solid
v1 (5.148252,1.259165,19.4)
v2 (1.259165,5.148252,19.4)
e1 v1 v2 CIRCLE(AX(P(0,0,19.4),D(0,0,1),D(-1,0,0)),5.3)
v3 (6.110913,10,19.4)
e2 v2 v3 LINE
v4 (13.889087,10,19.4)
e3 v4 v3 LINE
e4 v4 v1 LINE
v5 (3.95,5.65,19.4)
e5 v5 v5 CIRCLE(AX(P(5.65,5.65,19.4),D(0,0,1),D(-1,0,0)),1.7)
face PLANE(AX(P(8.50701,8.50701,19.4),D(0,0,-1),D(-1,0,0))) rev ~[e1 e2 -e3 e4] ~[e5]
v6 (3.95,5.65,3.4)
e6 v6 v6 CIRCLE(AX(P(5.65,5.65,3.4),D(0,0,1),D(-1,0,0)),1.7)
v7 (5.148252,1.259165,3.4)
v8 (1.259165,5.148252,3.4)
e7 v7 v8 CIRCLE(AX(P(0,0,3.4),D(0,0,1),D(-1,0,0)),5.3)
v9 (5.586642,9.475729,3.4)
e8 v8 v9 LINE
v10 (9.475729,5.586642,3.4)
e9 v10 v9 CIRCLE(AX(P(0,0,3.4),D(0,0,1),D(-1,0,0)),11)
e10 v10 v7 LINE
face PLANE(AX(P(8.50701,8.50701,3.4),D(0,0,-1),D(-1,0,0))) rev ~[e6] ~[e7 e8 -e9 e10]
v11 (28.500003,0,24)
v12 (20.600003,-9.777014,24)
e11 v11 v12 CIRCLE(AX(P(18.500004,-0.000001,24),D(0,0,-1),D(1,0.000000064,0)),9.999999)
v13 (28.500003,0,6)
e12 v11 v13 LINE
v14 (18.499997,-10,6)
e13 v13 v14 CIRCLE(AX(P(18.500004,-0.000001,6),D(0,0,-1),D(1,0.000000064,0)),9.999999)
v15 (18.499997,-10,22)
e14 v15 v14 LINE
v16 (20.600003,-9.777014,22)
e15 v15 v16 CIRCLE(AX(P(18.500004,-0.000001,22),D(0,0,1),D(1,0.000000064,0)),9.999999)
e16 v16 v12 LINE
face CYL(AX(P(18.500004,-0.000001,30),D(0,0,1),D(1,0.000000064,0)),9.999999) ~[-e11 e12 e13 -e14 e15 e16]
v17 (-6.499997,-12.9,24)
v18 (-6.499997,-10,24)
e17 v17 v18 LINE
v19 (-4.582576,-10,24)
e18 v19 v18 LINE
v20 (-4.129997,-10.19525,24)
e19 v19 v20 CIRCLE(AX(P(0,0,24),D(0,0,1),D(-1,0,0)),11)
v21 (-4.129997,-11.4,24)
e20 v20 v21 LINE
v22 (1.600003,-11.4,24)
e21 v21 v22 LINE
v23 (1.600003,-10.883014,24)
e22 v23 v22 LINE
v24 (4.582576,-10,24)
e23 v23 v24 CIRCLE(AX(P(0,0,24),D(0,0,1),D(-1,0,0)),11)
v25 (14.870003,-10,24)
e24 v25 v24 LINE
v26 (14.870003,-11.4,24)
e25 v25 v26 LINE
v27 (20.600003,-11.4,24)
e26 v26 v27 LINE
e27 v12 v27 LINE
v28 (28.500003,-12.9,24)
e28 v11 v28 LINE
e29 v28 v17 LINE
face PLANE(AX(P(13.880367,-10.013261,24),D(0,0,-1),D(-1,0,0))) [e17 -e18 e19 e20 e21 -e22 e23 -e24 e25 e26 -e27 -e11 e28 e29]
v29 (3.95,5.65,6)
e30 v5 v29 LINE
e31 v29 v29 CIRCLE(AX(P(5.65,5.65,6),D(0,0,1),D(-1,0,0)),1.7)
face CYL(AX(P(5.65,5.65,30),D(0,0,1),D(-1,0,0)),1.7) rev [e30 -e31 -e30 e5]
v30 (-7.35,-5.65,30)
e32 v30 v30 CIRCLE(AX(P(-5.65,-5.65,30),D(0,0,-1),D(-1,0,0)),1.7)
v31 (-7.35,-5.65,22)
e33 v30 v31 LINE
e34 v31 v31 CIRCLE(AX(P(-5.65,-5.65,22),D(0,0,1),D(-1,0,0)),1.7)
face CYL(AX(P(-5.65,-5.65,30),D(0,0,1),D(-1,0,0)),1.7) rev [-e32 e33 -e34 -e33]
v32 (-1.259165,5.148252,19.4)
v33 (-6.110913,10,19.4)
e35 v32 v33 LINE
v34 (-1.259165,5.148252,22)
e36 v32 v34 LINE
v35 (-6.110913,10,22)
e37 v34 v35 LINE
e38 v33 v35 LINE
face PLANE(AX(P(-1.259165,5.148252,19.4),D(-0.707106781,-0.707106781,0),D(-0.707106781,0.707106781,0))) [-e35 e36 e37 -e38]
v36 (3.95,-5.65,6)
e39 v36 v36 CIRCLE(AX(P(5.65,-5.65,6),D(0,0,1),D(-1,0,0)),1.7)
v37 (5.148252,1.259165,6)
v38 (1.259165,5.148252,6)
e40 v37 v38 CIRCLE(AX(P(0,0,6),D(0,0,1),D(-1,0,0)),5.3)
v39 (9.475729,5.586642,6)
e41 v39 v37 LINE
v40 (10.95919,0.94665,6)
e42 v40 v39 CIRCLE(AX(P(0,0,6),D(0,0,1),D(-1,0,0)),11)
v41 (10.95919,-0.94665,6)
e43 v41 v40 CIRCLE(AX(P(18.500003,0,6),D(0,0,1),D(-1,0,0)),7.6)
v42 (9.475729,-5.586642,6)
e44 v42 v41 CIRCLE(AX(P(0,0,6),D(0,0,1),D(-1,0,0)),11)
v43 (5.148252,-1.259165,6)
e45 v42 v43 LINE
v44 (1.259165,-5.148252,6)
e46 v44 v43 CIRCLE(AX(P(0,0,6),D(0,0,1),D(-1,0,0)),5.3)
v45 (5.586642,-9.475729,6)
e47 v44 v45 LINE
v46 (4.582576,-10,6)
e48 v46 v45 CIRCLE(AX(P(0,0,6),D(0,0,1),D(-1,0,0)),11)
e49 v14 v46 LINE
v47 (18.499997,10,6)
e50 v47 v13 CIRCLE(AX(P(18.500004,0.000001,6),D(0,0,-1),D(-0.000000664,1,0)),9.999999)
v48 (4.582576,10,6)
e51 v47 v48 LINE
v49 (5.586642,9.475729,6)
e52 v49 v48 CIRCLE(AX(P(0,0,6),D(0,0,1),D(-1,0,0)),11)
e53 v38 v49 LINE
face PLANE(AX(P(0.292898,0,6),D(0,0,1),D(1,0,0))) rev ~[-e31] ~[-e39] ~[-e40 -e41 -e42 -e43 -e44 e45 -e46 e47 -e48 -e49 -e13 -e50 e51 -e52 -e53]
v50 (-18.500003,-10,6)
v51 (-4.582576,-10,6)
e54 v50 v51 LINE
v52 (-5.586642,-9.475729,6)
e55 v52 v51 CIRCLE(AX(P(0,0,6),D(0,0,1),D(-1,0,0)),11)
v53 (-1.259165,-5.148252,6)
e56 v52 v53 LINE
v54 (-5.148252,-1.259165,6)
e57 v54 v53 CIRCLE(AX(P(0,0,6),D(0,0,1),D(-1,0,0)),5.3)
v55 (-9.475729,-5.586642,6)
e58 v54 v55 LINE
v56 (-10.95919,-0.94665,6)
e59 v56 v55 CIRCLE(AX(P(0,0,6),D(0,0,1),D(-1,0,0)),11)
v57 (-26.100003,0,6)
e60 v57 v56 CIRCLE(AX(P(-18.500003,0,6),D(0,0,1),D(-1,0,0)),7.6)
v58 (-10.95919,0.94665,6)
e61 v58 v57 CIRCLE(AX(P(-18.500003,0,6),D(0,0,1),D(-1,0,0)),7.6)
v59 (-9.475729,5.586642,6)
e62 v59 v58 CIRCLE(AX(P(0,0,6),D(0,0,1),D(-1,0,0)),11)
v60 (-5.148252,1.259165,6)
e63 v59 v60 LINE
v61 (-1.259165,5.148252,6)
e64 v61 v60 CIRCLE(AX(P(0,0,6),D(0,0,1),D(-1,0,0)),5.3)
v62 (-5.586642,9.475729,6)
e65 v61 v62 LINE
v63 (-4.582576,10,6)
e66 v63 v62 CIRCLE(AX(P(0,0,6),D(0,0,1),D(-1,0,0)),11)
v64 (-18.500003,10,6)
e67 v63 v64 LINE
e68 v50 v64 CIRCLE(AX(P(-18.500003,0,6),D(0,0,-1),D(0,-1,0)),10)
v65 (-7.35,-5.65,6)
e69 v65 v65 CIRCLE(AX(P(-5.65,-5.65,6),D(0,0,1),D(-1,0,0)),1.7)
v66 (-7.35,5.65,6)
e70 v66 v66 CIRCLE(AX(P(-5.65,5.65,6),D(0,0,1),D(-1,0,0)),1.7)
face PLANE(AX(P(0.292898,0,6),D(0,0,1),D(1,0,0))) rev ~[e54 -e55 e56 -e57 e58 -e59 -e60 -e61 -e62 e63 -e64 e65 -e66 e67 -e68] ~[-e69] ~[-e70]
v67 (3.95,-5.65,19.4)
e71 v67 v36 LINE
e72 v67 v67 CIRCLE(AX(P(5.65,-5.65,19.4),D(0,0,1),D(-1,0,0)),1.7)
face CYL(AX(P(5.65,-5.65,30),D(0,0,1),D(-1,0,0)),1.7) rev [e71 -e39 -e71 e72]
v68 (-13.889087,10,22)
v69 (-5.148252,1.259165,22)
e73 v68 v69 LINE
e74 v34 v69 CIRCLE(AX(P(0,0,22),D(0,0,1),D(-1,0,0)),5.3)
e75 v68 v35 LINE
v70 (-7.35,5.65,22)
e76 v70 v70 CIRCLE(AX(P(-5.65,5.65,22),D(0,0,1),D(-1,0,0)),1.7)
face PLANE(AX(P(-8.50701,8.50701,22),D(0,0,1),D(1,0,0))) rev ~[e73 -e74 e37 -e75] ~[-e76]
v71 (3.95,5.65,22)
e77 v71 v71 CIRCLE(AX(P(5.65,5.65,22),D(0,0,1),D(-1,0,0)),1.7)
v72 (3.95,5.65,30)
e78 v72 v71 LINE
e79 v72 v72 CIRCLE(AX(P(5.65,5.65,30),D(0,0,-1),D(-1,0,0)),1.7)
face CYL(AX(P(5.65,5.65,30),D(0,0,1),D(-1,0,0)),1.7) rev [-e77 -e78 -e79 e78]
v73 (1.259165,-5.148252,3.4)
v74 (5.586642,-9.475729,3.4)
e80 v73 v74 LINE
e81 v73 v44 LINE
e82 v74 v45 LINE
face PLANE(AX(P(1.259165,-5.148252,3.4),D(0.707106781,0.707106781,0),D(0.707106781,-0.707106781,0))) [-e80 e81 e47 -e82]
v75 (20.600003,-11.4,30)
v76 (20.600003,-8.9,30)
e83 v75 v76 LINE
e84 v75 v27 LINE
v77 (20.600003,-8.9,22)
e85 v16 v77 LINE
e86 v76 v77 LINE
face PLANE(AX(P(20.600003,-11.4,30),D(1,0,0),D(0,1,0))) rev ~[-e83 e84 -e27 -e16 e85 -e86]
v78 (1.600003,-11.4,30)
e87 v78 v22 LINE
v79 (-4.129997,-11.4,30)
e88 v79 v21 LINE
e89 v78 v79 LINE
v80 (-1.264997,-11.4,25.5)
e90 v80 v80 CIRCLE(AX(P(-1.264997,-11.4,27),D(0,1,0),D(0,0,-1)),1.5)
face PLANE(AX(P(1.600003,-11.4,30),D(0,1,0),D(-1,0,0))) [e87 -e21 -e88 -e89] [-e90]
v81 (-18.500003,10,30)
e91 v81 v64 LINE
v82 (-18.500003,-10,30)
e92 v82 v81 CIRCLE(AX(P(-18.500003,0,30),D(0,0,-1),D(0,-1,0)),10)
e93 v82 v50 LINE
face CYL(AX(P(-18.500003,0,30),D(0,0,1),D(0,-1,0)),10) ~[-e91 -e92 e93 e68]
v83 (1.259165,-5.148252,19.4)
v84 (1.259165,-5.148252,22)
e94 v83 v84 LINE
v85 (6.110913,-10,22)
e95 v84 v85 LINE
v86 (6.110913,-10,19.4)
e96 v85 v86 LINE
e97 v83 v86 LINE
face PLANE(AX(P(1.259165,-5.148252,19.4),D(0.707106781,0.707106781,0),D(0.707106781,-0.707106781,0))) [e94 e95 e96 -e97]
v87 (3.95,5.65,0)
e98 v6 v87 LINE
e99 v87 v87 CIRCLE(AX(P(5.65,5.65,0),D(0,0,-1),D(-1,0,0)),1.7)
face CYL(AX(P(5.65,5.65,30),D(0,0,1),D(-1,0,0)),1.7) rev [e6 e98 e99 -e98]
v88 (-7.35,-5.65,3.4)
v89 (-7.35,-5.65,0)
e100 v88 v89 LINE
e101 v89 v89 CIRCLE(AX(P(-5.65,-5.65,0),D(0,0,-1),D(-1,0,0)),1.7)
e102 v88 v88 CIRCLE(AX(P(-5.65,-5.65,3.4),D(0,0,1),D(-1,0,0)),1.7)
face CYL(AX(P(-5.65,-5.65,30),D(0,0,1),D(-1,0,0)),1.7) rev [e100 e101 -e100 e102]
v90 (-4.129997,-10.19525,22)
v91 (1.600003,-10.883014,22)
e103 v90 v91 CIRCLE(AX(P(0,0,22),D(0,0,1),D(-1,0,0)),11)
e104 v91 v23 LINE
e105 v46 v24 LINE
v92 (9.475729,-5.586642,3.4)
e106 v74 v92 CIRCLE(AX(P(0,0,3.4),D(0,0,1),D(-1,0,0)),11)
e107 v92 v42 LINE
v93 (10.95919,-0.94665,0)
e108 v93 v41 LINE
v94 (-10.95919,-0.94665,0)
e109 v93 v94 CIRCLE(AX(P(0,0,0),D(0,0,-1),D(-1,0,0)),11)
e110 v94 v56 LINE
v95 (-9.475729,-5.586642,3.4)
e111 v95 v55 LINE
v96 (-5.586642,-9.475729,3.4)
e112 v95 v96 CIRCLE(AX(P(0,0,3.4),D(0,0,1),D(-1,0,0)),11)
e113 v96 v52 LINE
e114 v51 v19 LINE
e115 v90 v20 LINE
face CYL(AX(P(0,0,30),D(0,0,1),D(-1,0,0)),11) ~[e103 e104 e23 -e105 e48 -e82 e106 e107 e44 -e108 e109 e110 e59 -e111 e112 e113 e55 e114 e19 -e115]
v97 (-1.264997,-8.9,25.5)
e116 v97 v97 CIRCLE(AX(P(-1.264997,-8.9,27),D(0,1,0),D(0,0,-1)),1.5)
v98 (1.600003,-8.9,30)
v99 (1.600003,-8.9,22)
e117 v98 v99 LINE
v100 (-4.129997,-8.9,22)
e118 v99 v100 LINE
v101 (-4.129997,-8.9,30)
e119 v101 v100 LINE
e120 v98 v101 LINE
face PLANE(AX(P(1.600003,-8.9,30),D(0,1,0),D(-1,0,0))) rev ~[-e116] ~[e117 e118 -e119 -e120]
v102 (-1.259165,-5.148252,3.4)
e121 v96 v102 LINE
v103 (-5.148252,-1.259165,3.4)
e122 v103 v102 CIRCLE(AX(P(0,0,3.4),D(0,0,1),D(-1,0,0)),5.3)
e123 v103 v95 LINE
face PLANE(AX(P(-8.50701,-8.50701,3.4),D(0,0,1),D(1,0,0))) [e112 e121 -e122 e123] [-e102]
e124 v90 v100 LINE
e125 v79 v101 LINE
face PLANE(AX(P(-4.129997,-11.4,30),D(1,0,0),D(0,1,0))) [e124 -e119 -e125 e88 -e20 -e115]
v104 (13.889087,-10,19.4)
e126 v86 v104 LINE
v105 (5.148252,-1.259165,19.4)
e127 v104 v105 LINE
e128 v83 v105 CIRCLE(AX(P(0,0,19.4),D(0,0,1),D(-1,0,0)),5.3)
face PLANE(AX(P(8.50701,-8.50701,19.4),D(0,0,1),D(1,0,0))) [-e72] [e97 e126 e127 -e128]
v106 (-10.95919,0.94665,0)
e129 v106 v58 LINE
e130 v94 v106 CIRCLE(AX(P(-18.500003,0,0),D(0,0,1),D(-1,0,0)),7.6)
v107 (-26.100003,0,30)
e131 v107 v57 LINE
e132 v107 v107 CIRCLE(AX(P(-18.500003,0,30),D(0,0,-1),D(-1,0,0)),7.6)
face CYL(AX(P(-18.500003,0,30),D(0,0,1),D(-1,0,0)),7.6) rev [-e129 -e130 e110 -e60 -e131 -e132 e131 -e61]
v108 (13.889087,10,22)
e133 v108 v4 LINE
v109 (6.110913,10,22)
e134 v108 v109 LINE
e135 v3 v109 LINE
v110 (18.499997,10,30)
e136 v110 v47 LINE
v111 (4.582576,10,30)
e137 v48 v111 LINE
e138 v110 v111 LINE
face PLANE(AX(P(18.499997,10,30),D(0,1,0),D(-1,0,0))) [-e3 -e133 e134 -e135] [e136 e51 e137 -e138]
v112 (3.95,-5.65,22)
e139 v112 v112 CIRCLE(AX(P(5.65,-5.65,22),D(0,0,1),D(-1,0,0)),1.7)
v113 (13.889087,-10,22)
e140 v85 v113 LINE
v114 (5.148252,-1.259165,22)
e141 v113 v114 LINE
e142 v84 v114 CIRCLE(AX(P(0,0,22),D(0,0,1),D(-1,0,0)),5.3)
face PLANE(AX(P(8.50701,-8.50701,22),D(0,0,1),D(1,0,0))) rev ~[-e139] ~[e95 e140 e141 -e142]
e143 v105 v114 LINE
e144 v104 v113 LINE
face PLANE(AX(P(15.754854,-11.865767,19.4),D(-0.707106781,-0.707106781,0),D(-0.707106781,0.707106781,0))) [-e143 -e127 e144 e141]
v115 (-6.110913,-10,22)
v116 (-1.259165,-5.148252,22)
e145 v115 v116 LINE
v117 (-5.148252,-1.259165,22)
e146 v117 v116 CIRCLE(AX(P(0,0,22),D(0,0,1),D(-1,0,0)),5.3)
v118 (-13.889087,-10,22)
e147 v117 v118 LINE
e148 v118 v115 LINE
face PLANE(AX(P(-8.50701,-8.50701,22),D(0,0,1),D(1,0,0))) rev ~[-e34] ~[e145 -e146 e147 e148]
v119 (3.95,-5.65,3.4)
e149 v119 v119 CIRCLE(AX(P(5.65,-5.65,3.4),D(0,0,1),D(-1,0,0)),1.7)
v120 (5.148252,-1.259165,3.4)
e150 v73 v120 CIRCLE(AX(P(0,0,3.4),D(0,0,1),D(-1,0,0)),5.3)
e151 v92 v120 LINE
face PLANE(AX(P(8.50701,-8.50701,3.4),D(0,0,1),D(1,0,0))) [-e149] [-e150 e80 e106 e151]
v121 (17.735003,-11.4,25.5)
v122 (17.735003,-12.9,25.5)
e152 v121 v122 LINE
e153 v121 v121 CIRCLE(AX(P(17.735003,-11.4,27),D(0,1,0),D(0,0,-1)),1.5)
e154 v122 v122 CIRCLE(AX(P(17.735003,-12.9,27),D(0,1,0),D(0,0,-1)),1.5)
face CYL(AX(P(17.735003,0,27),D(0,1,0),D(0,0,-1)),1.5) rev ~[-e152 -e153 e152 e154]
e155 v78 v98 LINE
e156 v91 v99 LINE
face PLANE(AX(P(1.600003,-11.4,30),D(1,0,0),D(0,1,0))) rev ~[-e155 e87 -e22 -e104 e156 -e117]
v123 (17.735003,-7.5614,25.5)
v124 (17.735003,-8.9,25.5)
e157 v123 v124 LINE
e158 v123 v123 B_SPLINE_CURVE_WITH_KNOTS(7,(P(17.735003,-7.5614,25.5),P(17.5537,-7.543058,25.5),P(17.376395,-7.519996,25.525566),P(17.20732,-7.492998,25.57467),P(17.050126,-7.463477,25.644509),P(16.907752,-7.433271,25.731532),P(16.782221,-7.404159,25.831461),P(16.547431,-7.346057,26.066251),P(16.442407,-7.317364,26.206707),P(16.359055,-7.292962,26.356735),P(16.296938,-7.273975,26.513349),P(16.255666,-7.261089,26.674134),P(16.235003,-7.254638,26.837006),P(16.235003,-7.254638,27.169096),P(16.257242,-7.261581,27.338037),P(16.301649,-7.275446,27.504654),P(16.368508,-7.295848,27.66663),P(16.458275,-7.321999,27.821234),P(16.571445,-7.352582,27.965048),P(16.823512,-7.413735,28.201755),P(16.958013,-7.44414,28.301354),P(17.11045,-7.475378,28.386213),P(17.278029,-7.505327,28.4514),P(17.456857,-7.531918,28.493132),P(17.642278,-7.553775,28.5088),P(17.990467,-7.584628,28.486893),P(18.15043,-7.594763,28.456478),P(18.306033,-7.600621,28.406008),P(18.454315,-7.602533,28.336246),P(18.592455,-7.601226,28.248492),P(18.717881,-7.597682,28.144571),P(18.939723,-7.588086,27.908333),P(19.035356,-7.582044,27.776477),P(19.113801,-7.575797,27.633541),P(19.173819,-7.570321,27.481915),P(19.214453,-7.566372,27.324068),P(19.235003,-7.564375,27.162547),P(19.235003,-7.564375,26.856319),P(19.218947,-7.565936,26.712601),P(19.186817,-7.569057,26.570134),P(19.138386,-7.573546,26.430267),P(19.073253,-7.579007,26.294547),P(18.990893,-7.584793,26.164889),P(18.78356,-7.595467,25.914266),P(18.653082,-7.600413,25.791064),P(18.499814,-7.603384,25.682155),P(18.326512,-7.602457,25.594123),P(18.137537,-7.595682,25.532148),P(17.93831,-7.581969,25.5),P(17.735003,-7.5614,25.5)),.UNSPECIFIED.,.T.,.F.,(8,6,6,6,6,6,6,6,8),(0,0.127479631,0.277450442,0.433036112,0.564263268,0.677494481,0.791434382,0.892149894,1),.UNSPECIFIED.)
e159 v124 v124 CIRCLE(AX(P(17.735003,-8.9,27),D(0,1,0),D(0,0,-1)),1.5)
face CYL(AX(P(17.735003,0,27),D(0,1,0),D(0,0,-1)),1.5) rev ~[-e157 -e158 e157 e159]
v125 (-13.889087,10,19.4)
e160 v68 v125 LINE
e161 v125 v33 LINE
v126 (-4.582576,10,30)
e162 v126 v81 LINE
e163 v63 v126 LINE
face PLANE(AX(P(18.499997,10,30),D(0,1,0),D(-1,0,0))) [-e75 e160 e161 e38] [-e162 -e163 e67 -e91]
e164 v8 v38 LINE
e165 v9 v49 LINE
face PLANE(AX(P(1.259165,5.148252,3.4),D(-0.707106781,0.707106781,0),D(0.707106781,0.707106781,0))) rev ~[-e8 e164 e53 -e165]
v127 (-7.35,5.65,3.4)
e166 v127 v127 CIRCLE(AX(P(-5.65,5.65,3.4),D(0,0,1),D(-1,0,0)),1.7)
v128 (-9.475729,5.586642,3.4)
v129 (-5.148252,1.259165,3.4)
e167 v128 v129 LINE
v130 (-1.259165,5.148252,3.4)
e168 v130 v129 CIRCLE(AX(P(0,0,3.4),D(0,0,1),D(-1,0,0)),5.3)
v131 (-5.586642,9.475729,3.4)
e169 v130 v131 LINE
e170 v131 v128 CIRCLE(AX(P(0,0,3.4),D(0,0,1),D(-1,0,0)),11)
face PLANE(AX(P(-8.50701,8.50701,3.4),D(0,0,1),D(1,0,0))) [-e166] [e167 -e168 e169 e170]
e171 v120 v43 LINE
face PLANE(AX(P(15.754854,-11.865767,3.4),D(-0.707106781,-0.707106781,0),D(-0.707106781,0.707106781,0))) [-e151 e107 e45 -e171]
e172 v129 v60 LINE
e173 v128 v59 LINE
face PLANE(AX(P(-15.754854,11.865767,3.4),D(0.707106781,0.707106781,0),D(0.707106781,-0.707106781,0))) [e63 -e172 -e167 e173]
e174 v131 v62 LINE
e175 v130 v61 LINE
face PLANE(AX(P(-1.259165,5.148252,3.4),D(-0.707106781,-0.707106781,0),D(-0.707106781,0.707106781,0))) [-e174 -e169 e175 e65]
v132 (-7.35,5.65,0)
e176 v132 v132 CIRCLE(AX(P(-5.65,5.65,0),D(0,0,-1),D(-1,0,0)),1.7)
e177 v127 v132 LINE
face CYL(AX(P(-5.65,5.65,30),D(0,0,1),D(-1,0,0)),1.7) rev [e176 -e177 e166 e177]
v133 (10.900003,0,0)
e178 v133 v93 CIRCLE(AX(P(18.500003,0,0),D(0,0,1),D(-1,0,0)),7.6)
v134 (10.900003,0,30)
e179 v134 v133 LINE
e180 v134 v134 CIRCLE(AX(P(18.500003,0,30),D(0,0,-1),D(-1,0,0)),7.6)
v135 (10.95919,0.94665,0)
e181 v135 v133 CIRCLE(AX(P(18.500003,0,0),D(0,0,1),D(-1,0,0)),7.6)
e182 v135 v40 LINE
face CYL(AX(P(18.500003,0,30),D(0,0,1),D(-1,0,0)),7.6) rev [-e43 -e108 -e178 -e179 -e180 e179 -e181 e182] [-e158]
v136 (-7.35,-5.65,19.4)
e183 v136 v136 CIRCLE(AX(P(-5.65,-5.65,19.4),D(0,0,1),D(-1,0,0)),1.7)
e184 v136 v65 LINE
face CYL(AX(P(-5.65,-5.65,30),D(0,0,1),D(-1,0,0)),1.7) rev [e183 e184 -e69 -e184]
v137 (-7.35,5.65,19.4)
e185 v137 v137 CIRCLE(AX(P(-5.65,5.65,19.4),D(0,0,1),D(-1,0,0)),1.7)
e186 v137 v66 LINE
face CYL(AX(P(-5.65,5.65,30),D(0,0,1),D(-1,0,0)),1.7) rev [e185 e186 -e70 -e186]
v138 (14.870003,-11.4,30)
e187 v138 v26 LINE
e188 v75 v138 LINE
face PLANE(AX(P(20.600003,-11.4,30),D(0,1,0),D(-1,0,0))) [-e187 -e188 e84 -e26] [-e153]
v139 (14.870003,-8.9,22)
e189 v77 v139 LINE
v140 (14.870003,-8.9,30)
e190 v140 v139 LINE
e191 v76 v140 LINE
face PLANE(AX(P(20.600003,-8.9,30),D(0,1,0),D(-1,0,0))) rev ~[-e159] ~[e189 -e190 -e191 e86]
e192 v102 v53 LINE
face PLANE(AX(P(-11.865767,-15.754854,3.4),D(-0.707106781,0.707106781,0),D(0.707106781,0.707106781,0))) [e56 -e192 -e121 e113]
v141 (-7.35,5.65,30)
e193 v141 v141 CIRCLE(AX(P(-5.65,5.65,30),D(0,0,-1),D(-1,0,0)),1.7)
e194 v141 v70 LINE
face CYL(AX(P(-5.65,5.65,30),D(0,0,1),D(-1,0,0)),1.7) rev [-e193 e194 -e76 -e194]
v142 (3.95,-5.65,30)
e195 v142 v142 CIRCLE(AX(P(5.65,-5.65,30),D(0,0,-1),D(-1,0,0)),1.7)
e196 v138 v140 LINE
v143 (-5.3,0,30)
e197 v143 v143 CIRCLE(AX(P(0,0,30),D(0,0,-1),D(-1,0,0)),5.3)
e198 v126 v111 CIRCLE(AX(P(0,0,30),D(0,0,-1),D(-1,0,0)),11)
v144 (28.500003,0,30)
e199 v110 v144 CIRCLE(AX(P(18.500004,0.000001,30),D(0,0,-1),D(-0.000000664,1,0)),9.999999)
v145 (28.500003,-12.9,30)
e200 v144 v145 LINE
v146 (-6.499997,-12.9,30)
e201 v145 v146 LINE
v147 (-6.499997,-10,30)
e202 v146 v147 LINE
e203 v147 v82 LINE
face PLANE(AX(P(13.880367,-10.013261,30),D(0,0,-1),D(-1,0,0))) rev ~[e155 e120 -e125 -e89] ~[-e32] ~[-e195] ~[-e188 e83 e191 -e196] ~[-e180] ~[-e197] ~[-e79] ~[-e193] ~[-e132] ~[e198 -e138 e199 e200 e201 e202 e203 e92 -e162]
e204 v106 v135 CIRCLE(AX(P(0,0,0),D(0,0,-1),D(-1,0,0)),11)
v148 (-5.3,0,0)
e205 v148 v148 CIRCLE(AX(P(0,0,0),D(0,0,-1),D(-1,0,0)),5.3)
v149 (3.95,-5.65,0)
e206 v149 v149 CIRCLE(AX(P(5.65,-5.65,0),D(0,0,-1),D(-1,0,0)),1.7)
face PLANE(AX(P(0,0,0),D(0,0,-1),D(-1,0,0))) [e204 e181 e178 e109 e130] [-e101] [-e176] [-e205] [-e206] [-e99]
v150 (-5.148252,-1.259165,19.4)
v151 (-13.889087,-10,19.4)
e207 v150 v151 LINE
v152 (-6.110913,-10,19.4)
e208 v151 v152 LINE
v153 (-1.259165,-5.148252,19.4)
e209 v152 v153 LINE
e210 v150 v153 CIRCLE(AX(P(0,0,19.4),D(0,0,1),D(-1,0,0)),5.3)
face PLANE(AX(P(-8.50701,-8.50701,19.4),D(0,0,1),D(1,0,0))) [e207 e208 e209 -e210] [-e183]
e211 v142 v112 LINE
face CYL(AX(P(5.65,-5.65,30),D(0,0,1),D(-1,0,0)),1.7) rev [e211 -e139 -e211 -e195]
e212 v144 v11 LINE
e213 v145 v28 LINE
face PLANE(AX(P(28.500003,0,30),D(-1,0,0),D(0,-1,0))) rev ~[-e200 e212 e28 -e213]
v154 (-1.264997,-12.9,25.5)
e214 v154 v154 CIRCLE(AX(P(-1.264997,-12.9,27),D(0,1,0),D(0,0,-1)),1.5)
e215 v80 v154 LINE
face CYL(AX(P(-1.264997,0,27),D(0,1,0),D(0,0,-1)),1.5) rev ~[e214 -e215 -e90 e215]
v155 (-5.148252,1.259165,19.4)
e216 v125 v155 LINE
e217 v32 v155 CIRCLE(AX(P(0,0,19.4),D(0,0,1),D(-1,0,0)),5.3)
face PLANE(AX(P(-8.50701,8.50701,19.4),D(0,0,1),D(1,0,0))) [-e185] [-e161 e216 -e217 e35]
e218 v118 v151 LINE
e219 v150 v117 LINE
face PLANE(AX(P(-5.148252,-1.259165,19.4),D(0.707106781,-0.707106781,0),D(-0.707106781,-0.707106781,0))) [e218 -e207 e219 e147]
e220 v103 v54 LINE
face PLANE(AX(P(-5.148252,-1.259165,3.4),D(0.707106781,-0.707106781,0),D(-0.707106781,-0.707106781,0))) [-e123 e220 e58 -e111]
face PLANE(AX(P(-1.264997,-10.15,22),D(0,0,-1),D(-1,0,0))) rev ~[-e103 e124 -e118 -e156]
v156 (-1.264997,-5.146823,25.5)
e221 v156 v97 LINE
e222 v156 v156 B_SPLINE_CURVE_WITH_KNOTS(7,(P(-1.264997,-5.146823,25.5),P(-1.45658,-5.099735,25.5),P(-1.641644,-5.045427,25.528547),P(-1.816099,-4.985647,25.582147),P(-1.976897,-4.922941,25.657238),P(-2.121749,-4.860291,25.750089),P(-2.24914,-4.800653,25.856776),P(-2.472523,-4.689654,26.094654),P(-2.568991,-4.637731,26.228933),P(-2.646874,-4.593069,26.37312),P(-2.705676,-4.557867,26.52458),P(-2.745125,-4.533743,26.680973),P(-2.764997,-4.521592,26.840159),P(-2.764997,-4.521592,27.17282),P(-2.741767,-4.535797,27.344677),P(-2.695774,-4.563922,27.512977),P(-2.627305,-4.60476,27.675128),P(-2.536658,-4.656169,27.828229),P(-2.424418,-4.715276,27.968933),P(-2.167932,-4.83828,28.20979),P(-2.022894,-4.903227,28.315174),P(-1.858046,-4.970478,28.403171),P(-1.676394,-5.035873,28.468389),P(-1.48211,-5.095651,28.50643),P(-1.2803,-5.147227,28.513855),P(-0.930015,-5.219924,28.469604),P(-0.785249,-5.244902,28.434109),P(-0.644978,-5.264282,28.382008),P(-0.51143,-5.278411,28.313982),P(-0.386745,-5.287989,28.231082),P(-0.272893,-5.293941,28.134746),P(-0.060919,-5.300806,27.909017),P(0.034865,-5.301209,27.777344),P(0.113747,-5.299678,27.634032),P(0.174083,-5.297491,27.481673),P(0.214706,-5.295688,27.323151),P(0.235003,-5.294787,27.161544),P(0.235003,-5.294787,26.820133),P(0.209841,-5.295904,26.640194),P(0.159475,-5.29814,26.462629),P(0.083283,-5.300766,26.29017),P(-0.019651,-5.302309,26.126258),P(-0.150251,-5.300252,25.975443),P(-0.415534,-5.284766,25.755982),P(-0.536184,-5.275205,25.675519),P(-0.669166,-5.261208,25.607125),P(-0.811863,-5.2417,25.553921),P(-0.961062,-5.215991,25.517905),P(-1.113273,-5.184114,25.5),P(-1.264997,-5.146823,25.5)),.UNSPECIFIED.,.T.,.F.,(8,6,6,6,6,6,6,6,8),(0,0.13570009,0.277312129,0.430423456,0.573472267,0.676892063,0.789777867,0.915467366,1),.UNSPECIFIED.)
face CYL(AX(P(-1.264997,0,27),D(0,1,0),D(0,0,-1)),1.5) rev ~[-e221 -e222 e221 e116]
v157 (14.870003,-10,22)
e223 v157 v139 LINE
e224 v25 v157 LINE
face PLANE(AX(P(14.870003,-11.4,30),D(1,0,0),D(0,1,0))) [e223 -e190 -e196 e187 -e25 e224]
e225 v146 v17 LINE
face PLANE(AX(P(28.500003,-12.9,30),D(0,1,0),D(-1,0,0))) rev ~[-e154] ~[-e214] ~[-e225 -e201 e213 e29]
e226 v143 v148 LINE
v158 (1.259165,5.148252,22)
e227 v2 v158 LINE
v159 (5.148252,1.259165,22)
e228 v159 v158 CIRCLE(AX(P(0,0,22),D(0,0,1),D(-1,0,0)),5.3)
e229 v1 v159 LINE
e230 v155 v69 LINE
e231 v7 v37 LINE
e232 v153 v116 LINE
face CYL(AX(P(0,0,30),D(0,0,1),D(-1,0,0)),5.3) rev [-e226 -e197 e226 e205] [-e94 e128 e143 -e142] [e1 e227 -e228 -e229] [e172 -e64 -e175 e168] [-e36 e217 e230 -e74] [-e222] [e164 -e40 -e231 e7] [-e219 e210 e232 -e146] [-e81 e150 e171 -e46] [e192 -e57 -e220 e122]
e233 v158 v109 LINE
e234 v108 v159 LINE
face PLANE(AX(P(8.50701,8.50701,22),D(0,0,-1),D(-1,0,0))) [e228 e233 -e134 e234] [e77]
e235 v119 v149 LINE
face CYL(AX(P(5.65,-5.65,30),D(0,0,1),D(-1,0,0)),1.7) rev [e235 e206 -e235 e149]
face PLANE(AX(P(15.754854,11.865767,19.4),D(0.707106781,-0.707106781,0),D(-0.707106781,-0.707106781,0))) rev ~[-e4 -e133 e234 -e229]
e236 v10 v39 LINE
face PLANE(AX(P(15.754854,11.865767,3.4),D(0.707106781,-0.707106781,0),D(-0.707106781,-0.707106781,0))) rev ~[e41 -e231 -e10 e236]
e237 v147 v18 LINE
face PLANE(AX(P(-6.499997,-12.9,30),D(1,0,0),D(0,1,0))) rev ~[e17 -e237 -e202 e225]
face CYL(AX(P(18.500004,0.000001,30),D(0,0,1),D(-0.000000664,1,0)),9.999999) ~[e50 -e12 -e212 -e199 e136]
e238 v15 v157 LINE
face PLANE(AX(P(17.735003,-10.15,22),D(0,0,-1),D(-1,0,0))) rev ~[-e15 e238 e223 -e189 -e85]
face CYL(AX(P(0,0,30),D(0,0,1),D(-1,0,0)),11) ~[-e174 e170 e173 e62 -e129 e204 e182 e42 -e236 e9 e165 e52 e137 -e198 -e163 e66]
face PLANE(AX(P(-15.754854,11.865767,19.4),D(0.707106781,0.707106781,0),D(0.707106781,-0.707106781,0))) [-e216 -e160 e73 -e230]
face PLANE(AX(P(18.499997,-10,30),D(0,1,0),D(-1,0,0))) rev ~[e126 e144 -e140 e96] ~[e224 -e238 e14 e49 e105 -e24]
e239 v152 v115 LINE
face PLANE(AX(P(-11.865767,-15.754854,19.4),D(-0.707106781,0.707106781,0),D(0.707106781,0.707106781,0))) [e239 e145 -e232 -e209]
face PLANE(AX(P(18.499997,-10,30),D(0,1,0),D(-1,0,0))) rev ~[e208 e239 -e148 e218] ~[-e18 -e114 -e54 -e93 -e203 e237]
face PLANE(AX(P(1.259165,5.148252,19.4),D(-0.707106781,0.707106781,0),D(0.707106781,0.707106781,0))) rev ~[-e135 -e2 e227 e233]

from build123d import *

# Parameters (mm, degrees)
PAD011_DEPTH            = 24
SKETCH036_R             = 5.3
SKETCH036_R_2           = 1.7
POCKET021_DEPTH         = 0.001
POCKET021_DEPTH_BACK    = 24.001
SKETCH034_R             = 11
SKETCH034_R_2           = 5.3
SKETCH034_R_3           = 1.7
PAD012_DEPTH            = 30
SKETCH039_R             = 7.6
SKETCH039_R_2           = 5.3
SKETCH039_R_3           = 1.7
POCKET022_DEPTH         = 30.001
POCKET022_DEPTH_BACK    = 0.001
PAD018_DEPTH            = 6
SKETCH041_W             = 5.73
SKETCH041_H             = 2.5
POCKET023_DEPTH         = 8
SKETCH042_R             = 1.5
POCKET024_DEPTH         = 12.901
POCKET025_DEPTH         = 2.6
LINEARPATTERN_COUNT     = 2
LINEARPATTERN_PITCH     = 16
BODY006_PITCH_ANGLE     = 90
BODY006_PLACEMENT_ANGLE = 90


with BuildPart() as part:
    # Sketch035 → Pad011 (new body)
    with BuildSketch(Plane.YZ):
        with BuildLine():
            Line((-18.499997, 10), (18.500003, 10))
            ThreePointArc((18.500003, -10), (28.500003, 0), (18.500003, 10))
            Line((18.500003, -10), (6.499997, -10))
            Line((-18.499997, -10), (6.499997, -10))
            ThreePointArc((-28.500003, 0), (-25.571069, -7.07107), (-18.499997, -10))
            ThreePointArc((-18.499997, 10), (-25.571069, 7.07107), (-28.500003, 0))
        make_face()
    extrude(amount=PAD011_DEPTH)

    # Sketch036 → Pocket021 (cut, two sides)
    with BuildSketch(Plane.YZ) as pocket021_sk:
        Circle(SKETCH036_R)
        with Locations((-5.65, 5.65)):
            Circle(SKETCH036_R_2)
        with Locations((5.65, 5.65)):
            Circle(SKETCH036_R_2)
        with Locations((5.65, -5.65)):
            Circle(SKETCH036_R_2)
        with Locations((-5.65, -5.65)):
            Circle(SKETCH036_R_2)
    extrude(amount=-POCKET021_DEPTH, mode=Mode.SUBTRACT)
    extrude(pocket021_sk.sketch, amount=POCKET021_DEPTH_BACK, mode=Mode.SUBTRACT)

    # Sketch034 → Pad012 (join)
    with BuildSketch(Plane.YZ):
        Circle(SKETCH034_R)
        Circle(SKETCH034_R_2, mode=Mode.SUBTRACT)
        with Locations((-5.65, 5.65)):
            Circle(SKETCH034_R_3, mode=Mode.SUBTRACT)
        with Locations((5.65, 5.65)):
            Circle(SKETCH034_R_3, mode=Mode.SUBTRACT)
        with Locations((5.65, -5.65)):
            Circle(SKETCH034_R_3, mode=Mode.SUBTRACT)
        with Locations((-5.65, -5.65)):
            Circle(SKETCH034_R_3, mode=Mode.SUBTRACT)
    extrude(amount=PAD012_DEPTH)

    # Sketch039 → Pocket022 (cut, two sides)
    with BuildSketch(Plane.YZ) as pocket022_sk:
        with Locations((18.500003, 0)):
            Circle(SKETCH039_R)
        with Locations((-18.500003, 0)):
            Circle(SKETCH039_R)
        Circle(SKETCH039_R_2)
        with Locations((-5.65, 5.65)):
            Circle(SKETCH039_R_3)
        with Locations((5.65, 5.65)):
            Circle(SKETCH039_R_3)
        with Locations((5.65, -5.65)):
            Circle(SKETCH039_R_3)
        with Locations((-5.65, -5.65)):
            Circle(SKETCH039_R_3)
    extrude(amount=POCKET022_DEPTH, mode=Mode.SUBTRACT)
    extrude(pocket022_sk.sketch, amount=-POCKET022_DEPTH_BACK, mode=Mode.SUBTRACT)

    # Sketch040 → Pad018 (join)
    with BuildSketch(Plane.YZ):
        with BuildLine():
            Line((-28.500003, 0), (-28.500003, -12.9))
            Line((-28.500003, -12.9), (6.499997, -12.9))
            Line((6.499997, -12.9), (6.499997, -10))
            Line((-18.499997, -10), (6.499997, -10))
            ThreePointArc((-28.500003, 0), (-25.571069, -7.07107), (-18.499997, -10))
        make_face()
    extrude(amount=PAD018_DEPTH)

    # Sketch041 → Pocket023 (cut)
    with BuildSketch(Plane.YZ):
        with Locations((-17.735003, -10.15)):
            Rectangle(SKETCH041_W, SKETCH041_H)
        with Locations((1.264997, -10.15)):
            Rectangle(SKETCH041_W, SKETCH041_H)
    extrude(amount=POCKET023_DEPTH, mode=Mode.SUBTRACT)

    # Sketch042 → Pocket024 (cut, through all)
    with BuildSketch(Plane.XY):
        with Locations((3, -17.735003)):
            Circle(SKETCH042_R)
        with Locations((3, 1.264997)):
            Circle(SKETCH042_R)
    extrude(amount=-POCKET024_DEPTH, mode=Mode.SUBTRACT)

    # Sketch038 → Pocket025 (cut)
    with BuildSketch(Plane.YZ.offset(26.6)):
        Polygon((1.259165, 5.148252), (11.865767, 15.754854), (15.754854, 11.865767), (5.148252, 1.259165), align=None)
        Polygon((-1.259165, 5.148252), (-11.865767, 15.754854), (-15.754854, 11.865767), (-5.148252, 1.259165), align=None)
        Polygon((1.259165, -5.148252), (5.148252, -1.259165), (15.754854, -11.865767), (11.865767, -15.754854), align=None)
        Polygon((-1.259165, -5.148252), (-11.865767, -15.754854), (-15.754854, -11.865767), (-5.148252, -1.259165), align=None)
    pocket025 = extrude(amount=-POCKET025_DEPTH, mode=Mode.SUBTRACT)

    # LinearPattern: Pocket025 ×2
    with Locations(*[(-i * LINEARPATTERN_PITCH, 0, 0) for i in range(1, LINEARPATTERN_COUNT)]):
        add(pocket025, mode=Mode.SUBTRACT)


with BuildPart() as part_1:
    # Body006 pitch: moved
    add(part.part.rotate(Axis((0, 0, 0), (0, 1, 0)), BODY006_PITCH_ANGLE))


with BuildPart() as part_2:
    # Body006 placement: moved
    add(part_1.part.moved(Location((0, 0, 30))).rotate(Axis((0, 0, 30), (0, 0, 1)), BODY006_PLACEMENT_ANGLE))


solid = part_2.part
